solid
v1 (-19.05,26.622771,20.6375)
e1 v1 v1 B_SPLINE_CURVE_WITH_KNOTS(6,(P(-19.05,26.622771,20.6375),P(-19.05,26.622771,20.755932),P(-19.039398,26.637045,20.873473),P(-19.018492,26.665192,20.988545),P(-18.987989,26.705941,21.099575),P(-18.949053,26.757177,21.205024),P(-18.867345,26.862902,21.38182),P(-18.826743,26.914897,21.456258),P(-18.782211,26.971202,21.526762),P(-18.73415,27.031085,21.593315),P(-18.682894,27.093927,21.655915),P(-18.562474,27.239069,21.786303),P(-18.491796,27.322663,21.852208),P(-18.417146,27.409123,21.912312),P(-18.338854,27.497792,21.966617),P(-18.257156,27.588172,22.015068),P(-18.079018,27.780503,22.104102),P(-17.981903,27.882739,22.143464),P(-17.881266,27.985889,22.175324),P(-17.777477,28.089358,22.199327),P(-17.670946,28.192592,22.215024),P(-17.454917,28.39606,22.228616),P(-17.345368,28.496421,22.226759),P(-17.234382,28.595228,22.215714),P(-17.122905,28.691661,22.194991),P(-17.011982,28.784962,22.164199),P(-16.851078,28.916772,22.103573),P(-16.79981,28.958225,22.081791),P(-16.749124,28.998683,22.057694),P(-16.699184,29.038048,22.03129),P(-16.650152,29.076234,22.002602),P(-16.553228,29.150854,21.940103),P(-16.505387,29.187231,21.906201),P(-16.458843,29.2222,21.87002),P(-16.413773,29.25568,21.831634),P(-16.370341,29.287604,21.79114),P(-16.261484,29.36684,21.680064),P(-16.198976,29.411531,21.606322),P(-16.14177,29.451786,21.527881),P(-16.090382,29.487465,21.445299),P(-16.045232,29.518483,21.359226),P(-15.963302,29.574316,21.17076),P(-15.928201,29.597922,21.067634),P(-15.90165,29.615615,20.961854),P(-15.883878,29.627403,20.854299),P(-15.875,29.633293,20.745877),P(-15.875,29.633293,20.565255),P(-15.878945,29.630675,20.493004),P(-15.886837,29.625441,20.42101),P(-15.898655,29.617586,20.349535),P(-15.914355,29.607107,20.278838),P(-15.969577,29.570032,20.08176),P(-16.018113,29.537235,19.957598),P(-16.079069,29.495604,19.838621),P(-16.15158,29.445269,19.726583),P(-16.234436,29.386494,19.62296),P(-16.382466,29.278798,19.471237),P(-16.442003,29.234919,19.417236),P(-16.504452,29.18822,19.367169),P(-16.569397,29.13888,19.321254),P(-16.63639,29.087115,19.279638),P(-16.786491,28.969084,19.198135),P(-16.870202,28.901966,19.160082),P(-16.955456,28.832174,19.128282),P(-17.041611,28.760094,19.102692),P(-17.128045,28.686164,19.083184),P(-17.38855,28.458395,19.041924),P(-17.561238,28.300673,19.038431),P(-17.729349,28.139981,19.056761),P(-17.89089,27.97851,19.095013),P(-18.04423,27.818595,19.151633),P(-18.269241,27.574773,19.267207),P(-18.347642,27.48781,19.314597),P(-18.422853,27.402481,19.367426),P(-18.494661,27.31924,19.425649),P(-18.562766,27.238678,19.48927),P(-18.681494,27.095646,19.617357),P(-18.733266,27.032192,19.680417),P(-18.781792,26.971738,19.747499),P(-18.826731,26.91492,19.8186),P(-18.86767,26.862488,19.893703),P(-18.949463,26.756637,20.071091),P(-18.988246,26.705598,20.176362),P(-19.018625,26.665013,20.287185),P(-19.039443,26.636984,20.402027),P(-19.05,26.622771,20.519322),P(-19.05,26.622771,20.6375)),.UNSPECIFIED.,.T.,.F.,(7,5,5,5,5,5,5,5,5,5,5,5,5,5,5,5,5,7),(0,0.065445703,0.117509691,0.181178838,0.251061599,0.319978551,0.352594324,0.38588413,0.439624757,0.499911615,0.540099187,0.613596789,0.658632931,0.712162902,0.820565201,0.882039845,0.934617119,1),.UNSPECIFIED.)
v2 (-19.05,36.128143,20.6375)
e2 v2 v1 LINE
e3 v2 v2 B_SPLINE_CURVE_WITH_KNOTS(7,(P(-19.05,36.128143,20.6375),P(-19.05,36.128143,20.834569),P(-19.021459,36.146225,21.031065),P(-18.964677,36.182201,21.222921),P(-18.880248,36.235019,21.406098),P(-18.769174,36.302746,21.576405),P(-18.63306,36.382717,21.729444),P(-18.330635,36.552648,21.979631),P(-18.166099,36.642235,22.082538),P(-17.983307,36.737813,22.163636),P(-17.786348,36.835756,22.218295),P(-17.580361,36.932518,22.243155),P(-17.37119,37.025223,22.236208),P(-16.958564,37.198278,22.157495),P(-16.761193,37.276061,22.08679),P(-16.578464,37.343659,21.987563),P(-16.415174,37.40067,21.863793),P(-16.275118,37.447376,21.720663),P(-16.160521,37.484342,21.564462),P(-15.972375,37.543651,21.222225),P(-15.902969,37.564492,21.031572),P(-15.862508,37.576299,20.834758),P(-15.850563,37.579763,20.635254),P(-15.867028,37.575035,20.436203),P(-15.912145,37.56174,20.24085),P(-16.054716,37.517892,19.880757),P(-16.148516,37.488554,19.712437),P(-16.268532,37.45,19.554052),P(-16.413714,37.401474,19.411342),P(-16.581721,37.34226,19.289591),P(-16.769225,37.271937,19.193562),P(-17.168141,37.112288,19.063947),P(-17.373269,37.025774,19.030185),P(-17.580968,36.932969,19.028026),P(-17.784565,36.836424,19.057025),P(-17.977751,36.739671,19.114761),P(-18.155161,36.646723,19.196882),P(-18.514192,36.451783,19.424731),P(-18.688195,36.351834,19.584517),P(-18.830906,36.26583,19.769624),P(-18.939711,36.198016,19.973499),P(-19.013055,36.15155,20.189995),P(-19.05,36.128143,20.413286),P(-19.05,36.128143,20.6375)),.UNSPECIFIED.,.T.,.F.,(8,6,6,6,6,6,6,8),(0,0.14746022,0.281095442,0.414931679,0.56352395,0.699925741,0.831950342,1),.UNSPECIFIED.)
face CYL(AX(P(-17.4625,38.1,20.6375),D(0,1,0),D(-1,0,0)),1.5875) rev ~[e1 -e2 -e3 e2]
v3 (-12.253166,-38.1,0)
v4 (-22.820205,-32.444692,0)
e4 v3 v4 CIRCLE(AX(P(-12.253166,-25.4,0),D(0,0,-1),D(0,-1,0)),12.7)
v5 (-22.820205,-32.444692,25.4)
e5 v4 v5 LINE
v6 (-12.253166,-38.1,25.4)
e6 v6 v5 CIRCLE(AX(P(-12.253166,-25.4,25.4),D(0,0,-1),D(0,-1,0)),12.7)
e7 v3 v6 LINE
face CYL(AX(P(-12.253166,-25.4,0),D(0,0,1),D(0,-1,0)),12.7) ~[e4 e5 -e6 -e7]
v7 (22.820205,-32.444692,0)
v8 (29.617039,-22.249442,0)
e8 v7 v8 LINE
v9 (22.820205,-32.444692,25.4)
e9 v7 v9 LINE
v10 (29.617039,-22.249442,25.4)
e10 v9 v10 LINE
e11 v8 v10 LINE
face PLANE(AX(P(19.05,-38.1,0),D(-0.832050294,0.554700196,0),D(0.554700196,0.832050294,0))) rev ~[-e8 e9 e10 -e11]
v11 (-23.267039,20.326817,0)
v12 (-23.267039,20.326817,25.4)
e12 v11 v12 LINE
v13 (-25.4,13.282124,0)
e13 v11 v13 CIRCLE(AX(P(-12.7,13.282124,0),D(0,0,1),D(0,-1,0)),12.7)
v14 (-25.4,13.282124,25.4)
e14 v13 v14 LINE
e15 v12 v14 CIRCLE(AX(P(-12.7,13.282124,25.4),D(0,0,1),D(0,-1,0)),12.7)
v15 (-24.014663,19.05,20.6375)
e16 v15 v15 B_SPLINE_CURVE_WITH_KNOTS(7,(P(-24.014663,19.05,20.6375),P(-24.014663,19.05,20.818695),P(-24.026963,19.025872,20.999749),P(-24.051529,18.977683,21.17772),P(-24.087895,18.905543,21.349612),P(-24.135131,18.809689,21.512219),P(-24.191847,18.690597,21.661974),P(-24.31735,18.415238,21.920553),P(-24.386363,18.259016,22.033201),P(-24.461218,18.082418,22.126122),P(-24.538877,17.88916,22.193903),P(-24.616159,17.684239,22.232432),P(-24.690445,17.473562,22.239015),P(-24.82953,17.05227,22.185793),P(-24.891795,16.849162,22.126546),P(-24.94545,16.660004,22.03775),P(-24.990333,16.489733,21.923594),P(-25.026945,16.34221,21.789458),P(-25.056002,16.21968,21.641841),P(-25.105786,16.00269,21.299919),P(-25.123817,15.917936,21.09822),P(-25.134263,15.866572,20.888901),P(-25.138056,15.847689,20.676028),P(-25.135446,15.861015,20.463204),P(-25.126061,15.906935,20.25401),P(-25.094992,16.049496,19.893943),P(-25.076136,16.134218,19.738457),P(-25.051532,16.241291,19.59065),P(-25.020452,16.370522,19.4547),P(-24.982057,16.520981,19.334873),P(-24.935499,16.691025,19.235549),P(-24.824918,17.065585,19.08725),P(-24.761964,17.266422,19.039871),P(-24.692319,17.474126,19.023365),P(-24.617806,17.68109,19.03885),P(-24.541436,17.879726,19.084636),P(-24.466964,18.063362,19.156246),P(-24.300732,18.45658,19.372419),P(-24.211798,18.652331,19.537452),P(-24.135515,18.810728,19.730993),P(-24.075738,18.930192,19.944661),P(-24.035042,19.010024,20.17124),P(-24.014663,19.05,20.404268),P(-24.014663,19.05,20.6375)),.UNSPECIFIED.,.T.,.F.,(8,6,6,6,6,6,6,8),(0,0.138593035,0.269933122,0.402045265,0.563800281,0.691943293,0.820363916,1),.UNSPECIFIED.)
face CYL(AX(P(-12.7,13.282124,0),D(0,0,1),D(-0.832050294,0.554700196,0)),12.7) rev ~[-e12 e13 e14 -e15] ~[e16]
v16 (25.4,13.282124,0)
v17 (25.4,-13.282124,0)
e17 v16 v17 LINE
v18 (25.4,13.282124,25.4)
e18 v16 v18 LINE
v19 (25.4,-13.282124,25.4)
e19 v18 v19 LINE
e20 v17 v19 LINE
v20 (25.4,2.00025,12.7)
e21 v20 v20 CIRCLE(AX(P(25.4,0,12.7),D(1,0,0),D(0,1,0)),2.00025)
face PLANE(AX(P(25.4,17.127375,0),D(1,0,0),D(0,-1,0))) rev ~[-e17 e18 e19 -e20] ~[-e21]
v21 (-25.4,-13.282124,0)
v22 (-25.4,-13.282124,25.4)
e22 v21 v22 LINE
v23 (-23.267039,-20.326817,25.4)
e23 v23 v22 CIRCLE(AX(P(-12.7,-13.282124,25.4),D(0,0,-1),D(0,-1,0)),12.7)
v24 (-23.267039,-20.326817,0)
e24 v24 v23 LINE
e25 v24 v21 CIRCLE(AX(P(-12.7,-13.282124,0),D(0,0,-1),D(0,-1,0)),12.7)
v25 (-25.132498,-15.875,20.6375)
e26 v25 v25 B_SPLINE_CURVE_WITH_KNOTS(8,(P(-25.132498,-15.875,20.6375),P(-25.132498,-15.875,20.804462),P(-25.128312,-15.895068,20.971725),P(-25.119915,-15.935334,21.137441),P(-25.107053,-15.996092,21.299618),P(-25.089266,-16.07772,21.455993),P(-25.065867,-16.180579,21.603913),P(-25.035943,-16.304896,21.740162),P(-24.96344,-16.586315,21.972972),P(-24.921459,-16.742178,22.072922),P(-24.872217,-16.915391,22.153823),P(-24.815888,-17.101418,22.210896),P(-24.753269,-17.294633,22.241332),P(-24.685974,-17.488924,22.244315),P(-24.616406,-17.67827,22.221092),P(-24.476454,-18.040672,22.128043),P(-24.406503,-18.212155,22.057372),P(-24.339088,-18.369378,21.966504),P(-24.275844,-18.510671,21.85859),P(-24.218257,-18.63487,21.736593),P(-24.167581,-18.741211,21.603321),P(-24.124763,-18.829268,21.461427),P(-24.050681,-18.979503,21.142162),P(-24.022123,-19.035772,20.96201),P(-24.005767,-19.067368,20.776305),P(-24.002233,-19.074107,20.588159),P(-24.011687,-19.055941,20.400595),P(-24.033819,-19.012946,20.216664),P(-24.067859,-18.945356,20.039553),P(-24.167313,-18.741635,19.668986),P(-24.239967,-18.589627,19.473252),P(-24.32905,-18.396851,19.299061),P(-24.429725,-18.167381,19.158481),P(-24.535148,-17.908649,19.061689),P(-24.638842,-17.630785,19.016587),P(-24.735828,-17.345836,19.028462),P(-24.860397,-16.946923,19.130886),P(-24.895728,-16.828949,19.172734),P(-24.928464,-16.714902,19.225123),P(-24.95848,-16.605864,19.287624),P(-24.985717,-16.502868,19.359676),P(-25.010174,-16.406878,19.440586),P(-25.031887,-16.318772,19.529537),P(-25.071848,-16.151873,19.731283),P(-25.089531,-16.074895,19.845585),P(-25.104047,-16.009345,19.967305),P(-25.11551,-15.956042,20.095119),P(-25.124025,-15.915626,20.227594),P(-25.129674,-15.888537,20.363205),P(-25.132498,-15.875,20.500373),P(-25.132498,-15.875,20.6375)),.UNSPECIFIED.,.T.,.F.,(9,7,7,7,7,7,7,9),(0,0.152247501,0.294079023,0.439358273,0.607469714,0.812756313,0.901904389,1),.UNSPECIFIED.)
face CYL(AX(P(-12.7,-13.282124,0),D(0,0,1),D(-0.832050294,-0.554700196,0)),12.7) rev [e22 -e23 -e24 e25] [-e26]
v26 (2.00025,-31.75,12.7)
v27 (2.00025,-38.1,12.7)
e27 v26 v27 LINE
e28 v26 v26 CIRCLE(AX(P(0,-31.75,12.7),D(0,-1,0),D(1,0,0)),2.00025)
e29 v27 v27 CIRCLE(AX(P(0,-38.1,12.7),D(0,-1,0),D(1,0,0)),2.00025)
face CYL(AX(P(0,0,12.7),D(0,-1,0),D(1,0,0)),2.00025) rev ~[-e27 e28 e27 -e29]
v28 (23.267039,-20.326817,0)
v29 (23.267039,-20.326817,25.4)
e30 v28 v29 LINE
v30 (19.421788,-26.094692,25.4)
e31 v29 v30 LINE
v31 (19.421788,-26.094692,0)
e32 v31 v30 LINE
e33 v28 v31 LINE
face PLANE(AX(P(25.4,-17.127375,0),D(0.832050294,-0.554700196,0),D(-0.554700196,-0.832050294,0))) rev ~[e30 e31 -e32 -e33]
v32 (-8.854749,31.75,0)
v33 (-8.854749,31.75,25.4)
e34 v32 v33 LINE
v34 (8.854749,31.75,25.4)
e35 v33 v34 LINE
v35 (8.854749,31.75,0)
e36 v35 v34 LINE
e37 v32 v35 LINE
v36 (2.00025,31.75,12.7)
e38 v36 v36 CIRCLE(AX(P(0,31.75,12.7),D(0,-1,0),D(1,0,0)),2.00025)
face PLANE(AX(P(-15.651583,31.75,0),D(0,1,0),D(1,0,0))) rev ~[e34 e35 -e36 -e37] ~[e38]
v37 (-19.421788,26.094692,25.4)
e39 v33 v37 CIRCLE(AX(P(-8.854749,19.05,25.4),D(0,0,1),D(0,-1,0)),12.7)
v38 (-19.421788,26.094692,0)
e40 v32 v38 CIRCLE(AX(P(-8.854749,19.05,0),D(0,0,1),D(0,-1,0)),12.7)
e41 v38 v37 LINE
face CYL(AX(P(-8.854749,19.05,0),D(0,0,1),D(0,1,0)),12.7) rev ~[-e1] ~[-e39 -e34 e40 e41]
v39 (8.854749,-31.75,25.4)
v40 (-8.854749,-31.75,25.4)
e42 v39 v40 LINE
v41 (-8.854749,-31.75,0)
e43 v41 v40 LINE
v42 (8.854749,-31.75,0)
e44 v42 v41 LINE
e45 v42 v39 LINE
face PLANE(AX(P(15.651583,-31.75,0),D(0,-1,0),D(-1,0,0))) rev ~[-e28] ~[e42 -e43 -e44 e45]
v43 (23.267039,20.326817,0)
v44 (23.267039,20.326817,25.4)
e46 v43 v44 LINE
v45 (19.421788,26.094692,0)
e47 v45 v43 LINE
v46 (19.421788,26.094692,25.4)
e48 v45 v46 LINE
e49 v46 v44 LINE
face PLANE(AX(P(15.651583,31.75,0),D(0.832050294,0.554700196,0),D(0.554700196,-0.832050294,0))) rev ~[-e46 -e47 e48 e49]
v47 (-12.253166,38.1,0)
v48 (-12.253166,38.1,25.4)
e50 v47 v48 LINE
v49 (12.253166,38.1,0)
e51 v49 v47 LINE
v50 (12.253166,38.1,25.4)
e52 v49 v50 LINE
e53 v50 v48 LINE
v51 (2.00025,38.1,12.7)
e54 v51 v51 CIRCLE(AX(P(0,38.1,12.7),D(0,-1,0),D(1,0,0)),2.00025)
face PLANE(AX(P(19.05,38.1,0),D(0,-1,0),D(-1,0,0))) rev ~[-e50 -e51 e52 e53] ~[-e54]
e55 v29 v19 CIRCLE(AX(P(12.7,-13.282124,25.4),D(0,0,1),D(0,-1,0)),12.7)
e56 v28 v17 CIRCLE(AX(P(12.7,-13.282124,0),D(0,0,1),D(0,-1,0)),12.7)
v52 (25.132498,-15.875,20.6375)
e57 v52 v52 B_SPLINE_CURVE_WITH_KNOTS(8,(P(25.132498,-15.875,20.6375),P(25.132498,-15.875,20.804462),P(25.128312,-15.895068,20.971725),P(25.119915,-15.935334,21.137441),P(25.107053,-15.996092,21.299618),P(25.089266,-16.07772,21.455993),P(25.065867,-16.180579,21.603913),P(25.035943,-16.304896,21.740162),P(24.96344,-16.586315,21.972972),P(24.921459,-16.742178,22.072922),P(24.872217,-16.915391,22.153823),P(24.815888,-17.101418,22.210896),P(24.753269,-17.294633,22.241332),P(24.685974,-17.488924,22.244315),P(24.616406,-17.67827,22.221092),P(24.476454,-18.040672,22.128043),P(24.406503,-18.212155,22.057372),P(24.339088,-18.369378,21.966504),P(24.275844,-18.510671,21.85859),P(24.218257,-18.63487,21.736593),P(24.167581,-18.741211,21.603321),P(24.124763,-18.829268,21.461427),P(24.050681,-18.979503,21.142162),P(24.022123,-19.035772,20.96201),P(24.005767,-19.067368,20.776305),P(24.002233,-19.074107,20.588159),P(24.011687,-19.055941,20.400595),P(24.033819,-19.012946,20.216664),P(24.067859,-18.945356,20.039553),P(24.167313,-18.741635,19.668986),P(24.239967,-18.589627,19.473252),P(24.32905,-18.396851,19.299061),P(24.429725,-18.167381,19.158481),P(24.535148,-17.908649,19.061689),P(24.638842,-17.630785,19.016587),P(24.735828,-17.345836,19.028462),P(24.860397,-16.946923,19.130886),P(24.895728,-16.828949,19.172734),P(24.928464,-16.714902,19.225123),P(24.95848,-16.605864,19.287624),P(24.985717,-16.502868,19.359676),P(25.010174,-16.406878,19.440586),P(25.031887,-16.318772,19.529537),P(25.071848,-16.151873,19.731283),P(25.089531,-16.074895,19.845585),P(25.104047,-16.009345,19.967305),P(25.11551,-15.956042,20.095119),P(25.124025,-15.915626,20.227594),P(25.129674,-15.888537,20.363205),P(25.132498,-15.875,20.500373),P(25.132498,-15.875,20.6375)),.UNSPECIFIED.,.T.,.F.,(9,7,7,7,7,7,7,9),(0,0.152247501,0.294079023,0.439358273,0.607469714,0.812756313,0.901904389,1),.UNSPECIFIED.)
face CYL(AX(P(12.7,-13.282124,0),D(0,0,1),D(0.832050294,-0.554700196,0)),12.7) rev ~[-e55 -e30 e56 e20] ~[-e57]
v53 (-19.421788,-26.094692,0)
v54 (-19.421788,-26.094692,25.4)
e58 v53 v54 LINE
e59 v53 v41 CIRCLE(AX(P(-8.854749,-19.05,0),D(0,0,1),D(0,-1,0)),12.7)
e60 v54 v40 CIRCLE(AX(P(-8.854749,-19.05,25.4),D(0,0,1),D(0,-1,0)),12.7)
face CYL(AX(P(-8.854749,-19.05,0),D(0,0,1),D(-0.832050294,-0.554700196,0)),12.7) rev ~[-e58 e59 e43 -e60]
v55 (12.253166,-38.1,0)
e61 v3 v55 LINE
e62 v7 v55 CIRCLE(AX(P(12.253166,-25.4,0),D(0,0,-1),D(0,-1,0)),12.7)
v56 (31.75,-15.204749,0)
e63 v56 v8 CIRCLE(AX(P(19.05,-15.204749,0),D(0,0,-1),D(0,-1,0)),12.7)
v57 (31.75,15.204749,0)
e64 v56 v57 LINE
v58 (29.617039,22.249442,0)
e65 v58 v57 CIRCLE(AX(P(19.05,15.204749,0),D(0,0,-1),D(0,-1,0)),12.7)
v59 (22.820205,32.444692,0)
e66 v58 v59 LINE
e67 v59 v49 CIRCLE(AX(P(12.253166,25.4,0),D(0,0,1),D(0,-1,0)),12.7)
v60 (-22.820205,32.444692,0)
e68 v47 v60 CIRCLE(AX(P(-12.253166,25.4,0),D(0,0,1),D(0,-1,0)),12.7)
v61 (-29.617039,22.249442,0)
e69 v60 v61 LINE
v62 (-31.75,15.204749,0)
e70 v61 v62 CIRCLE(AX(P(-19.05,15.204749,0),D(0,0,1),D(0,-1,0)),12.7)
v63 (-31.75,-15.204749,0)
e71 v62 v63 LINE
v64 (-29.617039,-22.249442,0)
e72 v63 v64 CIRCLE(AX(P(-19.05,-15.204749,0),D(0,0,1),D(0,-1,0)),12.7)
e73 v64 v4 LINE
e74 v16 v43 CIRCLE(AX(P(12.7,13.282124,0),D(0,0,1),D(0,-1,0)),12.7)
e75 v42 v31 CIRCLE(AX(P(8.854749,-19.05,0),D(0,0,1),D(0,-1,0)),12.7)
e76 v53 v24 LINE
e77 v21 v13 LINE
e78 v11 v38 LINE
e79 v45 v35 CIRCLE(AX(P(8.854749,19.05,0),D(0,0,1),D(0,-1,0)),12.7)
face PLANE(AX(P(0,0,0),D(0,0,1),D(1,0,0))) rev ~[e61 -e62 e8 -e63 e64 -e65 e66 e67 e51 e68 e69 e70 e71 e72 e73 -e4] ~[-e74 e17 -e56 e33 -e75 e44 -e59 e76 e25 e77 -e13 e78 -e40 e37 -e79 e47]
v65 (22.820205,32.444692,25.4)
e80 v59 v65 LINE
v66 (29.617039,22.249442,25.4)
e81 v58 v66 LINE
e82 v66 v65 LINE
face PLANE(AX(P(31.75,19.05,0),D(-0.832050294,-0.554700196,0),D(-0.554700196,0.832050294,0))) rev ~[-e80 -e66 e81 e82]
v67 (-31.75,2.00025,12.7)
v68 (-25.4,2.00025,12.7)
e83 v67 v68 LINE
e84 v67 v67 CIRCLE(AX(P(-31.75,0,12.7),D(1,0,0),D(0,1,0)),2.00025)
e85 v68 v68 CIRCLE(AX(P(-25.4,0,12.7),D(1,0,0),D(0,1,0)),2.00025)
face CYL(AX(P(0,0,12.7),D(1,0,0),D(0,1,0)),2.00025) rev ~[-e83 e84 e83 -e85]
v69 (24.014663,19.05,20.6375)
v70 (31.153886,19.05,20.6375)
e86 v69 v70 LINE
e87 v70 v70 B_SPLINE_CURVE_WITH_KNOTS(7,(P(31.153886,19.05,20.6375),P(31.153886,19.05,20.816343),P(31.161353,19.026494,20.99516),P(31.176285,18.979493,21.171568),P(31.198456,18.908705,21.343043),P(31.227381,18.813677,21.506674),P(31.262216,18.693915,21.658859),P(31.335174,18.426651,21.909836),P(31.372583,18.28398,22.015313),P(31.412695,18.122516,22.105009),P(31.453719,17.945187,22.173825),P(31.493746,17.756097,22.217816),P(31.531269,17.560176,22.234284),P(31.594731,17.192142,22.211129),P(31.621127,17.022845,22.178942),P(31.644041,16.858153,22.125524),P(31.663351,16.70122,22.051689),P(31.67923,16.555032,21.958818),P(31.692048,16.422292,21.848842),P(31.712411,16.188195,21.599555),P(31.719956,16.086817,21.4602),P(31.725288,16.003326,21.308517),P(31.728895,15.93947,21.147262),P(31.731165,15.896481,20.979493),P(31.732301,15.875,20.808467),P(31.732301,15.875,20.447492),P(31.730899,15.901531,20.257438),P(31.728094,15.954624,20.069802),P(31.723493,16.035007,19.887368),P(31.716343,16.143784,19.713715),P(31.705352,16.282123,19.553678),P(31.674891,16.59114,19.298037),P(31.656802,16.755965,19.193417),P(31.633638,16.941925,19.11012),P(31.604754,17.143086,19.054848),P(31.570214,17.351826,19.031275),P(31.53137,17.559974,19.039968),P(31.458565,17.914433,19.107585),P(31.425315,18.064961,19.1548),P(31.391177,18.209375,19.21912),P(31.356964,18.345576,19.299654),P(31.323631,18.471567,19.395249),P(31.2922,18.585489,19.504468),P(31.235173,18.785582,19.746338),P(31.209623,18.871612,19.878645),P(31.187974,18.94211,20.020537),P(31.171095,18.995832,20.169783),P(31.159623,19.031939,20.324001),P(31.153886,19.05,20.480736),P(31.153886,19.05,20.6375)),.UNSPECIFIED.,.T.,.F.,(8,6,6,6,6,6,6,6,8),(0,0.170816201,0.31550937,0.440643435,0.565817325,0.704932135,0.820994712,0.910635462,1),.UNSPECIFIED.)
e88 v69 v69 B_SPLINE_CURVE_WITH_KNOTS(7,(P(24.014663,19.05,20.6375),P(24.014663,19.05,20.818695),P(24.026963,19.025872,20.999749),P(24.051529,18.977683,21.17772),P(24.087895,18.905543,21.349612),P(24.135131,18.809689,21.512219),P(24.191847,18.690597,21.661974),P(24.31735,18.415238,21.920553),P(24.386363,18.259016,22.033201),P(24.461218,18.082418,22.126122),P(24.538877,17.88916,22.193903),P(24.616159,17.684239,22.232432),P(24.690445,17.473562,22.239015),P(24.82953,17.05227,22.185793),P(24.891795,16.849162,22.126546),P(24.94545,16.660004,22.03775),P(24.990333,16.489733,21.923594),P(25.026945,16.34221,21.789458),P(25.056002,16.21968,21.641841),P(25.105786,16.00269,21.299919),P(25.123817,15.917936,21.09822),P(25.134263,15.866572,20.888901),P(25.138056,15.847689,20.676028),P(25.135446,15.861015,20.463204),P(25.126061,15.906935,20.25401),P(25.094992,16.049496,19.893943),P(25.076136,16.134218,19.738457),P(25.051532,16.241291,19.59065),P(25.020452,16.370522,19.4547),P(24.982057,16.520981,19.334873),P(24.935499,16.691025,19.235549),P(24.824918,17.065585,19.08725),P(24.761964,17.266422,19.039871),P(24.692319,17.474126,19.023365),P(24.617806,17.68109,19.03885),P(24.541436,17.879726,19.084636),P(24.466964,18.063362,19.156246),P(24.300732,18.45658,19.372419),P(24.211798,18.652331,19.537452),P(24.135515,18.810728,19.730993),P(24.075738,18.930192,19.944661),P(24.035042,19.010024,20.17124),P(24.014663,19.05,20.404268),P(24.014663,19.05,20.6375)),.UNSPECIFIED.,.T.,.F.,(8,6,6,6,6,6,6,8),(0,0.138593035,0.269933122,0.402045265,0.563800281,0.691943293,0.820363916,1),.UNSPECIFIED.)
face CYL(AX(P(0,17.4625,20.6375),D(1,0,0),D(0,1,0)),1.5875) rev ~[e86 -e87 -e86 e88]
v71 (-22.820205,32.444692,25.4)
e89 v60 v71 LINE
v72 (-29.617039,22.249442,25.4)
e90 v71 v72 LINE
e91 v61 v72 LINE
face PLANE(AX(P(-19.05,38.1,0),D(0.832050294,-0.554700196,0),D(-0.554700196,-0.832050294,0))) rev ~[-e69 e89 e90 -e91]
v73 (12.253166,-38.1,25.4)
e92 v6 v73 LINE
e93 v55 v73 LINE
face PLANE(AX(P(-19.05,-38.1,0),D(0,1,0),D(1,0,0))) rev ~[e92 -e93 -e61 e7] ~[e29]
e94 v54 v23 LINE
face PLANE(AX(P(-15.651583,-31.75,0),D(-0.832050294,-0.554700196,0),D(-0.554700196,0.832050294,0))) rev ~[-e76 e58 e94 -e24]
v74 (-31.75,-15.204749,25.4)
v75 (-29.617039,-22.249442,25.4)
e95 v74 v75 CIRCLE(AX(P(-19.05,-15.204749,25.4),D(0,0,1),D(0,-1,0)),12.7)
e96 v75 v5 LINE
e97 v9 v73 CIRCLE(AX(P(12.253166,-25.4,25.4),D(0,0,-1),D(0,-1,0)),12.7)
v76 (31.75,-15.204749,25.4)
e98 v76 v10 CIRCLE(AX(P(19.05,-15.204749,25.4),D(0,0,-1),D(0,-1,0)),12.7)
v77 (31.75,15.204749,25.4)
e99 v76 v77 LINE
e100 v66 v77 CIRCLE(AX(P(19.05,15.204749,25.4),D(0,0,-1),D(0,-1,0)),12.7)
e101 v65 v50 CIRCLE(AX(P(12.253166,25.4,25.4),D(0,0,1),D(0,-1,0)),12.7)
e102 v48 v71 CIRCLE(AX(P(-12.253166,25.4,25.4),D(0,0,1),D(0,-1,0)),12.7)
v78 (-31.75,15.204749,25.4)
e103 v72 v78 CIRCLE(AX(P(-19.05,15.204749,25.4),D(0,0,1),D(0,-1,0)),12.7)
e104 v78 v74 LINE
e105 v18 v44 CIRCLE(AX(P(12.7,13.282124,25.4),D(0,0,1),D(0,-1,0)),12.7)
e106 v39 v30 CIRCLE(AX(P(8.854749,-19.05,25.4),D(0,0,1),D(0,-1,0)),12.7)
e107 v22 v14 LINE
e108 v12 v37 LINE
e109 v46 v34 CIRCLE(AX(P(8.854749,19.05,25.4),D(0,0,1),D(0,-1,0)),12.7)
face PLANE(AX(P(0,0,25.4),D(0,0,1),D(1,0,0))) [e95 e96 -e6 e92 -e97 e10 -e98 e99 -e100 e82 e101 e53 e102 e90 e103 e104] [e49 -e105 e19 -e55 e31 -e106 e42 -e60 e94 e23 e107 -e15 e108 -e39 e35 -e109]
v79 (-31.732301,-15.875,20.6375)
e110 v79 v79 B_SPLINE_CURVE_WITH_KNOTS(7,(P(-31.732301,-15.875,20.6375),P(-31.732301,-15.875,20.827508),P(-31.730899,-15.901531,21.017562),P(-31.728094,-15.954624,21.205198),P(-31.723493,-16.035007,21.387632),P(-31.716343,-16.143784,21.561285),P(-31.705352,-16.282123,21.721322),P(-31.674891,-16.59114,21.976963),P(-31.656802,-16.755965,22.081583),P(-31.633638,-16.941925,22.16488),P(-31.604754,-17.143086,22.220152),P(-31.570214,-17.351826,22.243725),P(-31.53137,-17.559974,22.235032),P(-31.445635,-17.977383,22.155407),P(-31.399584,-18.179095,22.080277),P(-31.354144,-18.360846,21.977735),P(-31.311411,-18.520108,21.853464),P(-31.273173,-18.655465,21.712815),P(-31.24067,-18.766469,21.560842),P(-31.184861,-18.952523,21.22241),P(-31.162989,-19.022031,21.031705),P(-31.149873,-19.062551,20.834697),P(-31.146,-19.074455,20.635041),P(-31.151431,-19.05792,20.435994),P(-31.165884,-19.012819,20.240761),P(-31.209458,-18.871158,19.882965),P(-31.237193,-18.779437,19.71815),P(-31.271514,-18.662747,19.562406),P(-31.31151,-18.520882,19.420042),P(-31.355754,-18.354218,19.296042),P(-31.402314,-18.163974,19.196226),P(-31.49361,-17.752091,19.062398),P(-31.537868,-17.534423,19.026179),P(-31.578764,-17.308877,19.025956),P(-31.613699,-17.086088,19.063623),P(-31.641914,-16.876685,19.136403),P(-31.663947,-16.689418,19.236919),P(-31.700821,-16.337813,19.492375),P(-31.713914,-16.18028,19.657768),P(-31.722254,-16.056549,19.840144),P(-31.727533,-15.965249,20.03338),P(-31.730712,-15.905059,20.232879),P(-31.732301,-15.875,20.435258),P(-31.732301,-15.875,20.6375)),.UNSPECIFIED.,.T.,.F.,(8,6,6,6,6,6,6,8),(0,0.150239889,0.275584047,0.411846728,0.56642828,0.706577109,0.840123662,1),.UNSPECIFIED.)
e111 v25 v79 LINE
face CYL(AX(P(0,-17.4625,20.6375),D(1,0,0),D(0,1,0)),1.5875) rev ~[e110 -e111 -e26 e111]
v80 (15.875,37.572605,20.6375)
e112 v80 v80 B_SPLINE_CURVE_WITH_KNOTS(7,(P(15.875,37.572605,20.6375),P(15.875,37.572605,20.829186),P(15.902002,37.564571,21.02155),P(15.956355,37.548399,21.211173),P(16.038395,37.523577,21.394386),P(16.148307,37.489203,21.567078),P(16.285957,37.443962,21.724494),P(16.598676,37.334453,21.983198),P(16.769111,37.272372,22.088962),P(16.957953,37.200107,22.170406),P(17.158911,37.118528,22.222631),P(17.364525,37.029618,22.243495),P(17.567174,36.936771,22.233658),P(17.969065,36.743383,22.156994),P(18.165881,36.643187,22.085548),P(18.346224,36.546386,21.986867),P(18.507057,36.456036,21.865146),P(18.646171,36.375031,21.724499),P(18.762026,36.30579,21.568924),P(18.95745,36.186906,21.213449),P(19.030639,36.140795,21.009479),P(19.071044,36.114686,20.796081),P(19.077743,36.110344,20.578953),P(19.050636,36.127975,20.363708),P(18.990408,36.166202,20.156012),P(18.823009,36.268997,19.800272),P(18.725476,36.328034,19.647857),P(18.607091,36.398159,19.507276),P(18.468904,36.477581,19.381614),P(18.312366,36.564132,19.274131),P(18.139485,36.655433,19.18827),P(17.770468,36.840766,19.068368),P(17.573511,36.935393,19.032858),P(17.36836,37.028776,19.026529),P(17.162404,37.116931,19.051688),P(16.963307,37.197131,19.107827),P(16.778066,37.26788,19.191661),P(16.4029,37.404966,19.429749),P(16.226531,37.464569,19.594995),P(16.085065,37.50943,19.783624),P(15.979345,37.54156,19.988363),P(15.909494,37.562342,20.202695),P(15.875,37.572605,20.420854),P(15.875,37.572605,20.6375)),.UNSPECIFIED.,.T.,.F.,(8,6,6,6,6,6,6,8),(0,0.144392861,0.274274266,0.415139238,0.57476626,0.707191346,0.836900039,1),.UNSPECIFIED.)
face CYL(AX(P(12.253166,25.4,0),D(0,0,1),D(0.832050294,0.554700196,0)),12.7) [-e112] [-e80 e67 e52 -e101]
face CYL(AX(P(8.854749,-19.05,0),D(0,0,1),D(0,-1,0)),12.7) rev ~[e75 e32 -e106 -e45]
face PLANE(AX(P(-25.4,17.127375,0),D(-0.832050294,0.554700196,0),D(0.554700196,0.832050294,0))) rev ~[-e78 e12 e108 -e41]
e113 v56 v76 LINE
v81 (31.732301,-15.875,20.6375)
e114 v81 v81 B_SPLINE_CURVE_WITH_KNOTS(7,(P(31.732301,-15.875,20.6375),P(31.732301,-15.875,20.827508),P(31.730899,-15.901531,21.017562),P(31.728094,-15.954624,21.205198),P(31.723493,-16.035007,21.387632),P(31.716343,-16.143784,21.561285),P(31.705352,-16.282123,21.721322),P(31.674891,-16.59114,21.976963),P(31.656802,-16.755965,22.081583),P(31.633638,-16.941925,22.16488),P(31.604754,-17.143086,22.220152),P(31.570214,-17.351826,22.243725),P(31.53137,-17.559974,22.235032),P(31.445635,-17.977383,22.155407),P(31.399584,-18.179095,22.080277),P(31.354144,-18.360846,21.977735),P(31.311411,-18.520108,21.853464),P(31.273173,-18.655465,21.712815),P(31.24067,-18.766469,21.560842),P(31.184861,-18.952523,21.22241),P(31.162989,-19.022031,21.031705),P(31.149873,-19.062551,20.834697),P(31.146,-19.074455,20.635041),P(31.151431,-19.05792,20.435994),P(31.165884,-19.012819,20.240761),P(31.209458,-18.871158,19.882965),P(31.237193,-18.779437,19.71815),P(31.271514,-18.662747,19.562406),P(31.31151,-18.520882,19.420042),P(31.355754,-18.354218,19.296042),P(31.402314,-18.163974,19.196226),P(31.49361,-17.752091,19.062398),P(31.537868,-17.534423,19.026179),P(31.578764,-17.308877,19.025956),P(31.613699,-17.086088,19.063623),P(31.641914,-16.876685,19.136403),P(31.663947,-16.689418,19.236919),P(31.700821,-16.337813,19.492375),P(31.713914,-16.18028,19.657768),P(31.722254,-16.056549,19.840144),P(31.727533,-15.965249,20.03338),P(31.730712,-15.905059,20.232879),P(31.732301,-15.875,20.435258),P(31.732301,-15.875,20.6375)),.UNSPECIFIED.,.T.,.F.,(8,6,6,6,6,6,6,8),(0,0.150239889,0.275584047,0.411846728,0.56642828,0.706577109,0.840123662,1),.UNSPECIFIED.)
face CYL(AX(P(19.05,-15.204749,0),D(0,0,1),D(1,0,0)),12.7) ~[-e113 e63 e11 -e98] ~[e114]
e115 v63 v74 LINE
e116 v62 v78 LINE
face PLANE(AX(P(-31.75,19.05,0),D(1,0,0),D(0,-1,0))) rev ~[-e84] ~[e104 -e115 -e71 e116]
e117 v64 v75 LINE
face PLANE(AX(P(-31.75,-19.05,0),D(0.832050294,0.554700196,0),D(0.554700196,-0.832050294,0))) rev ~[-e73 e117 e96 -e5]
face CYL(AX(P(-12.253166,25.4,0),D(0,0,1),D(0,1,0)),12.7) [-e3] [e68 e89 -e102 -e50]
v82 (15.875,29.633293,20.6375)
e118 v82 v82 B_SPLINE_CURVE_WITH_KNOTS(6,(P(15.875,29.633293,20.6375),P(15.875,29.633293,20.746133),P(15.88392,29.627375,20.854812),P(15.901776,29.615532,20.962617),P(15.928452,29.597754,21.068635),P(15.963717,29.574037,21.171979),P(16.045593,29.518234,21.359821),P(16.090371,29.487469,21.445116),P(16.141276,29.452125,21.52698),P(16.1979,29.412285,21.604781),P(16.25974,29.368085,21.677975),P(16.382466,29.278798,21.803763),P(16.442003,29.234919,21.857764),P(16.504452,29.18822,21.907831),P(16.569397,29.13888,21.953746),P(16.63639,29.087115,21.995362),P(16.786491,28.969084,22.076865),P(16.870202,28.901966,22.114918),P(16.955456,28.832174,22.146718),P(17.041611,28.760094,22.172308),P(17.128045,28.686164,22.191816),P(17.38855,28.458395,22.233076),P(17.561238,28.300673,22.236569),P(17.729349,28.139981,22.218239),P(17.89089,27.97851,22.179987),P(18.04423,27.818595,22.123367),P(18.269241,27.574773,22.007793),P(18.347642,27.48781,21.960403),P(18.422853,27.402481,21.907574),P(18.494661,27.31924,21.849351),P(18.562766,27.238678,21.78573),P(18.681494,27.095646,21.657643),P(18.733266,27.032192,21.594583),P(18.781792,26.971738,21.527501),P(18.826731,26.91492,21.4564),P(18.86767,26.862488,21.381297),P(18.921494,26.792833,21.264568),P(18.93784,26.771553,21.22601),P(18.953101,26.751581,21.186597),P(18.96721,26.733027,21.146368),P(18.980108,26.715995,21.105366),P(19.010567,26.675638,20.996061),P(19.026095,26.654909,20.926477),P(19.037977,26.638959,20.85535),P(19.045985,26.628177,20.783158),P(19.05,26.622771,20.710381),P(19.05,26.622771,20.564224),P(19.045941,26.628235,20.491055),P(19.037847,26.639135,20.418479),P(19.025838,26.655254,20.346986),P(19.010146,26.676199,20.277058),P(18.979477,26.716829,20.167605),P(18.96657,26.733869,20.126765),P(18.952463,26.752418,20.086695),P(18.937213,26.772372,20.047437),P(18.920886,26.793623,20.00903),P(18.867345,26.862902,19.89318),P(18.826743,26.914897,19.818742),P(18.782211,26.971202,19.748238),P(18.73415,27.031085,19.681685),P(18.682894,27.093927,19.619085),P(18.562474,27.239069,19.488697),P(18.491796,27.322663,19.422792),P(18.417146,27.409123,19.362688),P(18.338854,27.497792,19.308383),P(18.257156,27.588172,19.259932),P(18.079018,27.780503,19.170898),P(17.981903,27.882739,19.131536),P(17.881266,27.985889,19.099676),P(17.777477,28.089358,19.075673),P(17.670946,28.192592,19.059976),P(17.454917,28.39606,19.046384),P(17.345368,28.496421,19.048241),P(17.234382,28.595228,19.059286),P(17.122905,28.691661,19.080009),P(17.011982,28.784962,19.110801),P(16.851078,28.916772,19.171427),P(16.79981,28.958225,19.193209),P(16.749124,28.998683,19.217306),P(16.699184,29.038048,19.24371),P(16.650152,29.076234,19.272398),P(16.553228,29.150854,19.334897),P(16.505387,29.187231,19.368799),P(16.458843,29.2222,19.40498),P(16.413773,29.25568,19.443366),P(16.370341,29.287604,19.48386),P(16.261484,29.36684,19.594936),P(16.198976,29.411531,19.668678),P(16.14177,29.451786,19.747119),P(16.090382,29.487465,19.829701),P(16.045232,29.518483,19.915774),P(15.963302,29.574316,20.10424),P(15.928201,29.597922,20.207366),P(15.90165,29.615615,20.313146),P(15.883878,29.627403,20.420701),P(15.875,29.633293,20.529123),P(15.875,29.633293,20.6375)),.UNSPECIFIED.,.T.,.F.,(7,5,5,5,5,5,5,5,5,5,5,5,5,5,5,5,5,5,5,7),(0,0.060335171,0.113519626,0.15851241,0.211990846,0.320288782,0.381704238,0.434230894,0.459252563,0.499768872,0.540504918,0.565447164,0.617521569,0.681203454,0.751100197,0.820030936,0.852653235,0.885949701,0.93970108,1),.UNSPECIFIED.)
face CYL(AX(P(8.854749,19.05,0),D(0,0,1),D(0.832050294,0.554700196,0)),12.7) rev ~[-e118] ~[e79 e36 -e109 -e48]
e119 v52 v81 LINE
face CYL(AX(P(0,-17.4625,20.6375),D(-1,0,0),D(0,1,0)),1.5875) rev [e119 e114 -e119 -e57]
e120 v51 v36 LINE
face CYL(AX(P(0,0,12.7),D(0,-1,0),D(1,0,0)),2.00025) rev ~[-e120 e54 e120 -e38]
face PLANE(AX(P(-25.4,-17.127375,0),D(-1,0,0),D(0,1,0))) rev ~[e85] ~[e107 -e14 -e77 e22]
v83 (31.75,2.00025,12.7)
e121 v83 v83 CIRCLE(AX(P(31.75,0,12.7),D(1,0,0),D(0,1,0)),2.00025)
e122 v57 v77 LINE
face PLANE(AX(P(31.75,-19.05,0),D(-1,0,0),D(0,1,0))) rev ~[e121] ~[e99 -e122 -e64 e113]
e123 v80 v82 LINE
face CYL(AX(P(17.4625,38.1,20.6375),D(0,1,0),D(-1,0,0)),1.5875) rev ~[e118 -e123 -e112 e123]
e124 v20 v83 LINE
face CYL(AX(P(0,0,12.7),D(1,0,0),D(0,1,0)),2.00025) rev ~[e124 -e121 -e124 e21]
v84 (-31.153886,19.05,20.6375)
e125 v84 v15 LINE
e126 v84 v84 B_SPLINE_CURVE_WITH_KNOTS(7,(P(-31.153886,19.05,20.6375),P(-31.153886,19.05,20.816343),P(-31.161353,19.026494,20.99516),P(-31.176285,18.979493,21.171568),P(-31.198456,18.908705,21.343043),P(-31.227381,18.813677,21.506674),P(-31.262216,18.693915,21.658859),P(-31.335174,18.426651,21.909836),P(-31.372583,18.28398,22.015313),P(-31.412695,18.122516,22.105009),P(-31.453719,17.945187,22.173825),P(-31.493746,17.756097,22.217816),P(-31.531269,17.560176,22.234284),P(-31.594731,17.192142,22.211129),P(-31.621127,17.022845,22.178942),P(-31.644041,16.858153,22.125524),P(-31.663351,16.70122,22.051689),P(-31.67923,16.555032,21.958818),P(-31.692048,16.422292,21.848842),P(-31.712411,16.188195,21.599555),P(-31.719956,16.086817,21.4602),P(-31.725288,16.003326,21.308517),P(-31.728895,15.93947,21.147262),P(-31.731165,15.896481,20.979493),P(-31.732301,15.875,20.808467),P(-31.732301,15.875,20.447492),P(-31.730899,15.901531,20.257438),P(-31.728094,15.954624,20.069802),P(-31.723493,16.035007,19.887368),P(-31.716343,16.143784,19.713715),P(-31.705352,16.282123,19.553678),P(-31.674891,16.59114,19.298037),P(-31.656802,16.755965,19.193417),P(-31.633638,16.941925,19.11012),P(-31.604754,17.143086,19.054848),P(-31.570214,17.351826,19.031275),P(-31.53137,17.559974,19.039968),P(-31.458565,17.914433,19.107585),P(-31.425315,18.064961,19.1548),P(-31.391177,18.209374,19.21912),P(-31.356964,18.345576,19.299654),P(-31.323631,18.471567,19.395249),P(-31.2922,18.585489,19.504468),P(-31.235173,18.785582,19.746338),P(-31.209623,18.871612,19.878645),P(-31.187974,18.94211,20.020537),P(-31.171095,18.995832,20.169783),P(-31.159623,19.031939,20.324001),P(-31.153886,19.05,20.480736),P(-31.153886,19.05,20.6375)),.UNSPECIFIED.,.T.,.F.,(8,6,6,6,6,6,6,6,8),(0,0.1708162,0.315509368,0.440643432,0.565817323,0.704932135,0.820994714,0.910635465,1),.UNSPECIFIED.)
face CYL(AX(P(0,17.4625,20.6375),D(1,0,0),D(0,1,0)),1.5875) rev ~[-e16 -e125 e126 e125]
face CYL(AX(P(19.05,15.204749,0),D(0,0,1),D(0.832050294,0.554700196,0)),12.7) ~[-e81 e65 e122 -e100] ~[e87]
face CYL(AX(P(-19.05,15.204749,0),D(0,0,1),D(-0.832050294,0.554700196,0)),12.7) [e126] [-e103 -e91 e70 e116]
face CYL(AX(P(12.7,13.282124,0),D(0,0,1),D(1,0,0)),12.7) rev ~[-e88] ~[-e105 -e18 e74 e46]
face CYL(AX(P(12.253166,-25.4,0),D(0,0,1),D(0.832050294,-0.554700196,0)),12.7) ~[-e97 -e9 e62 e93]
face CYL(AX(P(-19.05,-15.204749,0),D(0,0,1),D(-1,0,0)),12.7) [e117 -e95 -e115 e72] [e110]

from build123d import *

# Parameters (mm, degrees)
F1_DEPTH  = 25.4
F2_R      = 2.00025
F3_DEPTH  = 39.6875
F4_R      = 2.00025
F5_DEPTH  = 41.275
F6_R      = 12.7
F7_R      = 1.5875
F8_DEPTH  = 25.4
F9_R      = 1.5875
F10_DEPTH = 38.1


with BuildPart() as f1:
    # F0 (on Top) → F1 (new body)
    with BuildSketch(Plane.XY):
        Polygon((31.75, 19.05), (19.05, 38.1), (-19.05, 38.1), (-31.75, 19.05), (-31.75, -19.05), (-19.05, -38.1), (19.05, -38.1), (31.75, -19.05), align=None)
        Polygon((-25.4, -17.1273747004), (-25.4, 17.1273747004), (-15.6515831336, 31.75), (15.6515831336, 31.75), (25.4, 17.1273747004), (25.4, -17.1273747004), (15.6515831336, -31.75), (-15.6515831336, -31.75), align=None, mode=Mode.SUBTRACT)
    extrude(amount=F1_DEPTH)

    # F2 (on Front) → F3 (cut, symmetric)
    with BuildSketch(Plane.XZ):
        with Locations((0, 12.7)):
            Circle(F2_R)
    extrude(amount=F3_DEPTH, both=True, mode=Mode.SUBTRACT)

    # F4 (on Right) → F5 (cut, symmetric)
    with BuildSketch(Plane.YZ):
        with Locations((0, 12.7)):
            Circle(F4_R)
    extrude(amount=F5_DEPTH, both=True, mode=Mode.SUBTRACT)

    # F6
    f6_edges = [f1.edges().sort_by_distance(p)[0] for p in [
        (-25.4, 17.127375, 12.7),
        (-15.651583, 31.75, 12.7),
        (15.651583, 31.75, 12.7),
        (25.4, 17.127375, 12.7),
        (25.4, -17.127375, 12.7),
        (15.651583, -31.75, 12.7),
        (-15.651583, -31.75, 12.7),
        (-25.4, -17.127375, 12.7),
        (-19.05, -38.1, 12.7),
        (-31.75, -19.05, 12.7),
        (19.05, -38.1, 12.7),
        (31.75, -19.05, 12.7),
        (31.75, 19.05, 12.7),
        (19.05, 38.1, 12.7),
        (-19.05, 38.1, 12.7),
        (-31.75, 19.05, 12.7),
    ]]
    fillet(f6_edges, radius=F6_R)

    # F7 (on face) → F8 (cut)
    with BuildSketch(Plane(origin=(0, 38.1, 0), x_dir=(-1, 0, 0), z_dir=(0, 1, 0))):
        with Locations((-17.4625, 20.6375)):
            Circle(F7_R)
        with Locations((17.4625, 20.6375)):
            Circle(F7_R)
    extrude(amount=-F8_DEPTH, mode=Mode.SUBTRACT)

    # F9 (on Right) → F10 (cut, symmetric)
    with BuildSketch(Plane.YZ):
        with Locations((-17.4625, 20.6375)):
            Circle(F9_R)
        with Locations((17.4625, 20.6375)):
            Circle(F9_R)
    extrude(amount=F10_DEPTH, both=True, mode=Mode.SUBTRACT)


solid = f1.part
